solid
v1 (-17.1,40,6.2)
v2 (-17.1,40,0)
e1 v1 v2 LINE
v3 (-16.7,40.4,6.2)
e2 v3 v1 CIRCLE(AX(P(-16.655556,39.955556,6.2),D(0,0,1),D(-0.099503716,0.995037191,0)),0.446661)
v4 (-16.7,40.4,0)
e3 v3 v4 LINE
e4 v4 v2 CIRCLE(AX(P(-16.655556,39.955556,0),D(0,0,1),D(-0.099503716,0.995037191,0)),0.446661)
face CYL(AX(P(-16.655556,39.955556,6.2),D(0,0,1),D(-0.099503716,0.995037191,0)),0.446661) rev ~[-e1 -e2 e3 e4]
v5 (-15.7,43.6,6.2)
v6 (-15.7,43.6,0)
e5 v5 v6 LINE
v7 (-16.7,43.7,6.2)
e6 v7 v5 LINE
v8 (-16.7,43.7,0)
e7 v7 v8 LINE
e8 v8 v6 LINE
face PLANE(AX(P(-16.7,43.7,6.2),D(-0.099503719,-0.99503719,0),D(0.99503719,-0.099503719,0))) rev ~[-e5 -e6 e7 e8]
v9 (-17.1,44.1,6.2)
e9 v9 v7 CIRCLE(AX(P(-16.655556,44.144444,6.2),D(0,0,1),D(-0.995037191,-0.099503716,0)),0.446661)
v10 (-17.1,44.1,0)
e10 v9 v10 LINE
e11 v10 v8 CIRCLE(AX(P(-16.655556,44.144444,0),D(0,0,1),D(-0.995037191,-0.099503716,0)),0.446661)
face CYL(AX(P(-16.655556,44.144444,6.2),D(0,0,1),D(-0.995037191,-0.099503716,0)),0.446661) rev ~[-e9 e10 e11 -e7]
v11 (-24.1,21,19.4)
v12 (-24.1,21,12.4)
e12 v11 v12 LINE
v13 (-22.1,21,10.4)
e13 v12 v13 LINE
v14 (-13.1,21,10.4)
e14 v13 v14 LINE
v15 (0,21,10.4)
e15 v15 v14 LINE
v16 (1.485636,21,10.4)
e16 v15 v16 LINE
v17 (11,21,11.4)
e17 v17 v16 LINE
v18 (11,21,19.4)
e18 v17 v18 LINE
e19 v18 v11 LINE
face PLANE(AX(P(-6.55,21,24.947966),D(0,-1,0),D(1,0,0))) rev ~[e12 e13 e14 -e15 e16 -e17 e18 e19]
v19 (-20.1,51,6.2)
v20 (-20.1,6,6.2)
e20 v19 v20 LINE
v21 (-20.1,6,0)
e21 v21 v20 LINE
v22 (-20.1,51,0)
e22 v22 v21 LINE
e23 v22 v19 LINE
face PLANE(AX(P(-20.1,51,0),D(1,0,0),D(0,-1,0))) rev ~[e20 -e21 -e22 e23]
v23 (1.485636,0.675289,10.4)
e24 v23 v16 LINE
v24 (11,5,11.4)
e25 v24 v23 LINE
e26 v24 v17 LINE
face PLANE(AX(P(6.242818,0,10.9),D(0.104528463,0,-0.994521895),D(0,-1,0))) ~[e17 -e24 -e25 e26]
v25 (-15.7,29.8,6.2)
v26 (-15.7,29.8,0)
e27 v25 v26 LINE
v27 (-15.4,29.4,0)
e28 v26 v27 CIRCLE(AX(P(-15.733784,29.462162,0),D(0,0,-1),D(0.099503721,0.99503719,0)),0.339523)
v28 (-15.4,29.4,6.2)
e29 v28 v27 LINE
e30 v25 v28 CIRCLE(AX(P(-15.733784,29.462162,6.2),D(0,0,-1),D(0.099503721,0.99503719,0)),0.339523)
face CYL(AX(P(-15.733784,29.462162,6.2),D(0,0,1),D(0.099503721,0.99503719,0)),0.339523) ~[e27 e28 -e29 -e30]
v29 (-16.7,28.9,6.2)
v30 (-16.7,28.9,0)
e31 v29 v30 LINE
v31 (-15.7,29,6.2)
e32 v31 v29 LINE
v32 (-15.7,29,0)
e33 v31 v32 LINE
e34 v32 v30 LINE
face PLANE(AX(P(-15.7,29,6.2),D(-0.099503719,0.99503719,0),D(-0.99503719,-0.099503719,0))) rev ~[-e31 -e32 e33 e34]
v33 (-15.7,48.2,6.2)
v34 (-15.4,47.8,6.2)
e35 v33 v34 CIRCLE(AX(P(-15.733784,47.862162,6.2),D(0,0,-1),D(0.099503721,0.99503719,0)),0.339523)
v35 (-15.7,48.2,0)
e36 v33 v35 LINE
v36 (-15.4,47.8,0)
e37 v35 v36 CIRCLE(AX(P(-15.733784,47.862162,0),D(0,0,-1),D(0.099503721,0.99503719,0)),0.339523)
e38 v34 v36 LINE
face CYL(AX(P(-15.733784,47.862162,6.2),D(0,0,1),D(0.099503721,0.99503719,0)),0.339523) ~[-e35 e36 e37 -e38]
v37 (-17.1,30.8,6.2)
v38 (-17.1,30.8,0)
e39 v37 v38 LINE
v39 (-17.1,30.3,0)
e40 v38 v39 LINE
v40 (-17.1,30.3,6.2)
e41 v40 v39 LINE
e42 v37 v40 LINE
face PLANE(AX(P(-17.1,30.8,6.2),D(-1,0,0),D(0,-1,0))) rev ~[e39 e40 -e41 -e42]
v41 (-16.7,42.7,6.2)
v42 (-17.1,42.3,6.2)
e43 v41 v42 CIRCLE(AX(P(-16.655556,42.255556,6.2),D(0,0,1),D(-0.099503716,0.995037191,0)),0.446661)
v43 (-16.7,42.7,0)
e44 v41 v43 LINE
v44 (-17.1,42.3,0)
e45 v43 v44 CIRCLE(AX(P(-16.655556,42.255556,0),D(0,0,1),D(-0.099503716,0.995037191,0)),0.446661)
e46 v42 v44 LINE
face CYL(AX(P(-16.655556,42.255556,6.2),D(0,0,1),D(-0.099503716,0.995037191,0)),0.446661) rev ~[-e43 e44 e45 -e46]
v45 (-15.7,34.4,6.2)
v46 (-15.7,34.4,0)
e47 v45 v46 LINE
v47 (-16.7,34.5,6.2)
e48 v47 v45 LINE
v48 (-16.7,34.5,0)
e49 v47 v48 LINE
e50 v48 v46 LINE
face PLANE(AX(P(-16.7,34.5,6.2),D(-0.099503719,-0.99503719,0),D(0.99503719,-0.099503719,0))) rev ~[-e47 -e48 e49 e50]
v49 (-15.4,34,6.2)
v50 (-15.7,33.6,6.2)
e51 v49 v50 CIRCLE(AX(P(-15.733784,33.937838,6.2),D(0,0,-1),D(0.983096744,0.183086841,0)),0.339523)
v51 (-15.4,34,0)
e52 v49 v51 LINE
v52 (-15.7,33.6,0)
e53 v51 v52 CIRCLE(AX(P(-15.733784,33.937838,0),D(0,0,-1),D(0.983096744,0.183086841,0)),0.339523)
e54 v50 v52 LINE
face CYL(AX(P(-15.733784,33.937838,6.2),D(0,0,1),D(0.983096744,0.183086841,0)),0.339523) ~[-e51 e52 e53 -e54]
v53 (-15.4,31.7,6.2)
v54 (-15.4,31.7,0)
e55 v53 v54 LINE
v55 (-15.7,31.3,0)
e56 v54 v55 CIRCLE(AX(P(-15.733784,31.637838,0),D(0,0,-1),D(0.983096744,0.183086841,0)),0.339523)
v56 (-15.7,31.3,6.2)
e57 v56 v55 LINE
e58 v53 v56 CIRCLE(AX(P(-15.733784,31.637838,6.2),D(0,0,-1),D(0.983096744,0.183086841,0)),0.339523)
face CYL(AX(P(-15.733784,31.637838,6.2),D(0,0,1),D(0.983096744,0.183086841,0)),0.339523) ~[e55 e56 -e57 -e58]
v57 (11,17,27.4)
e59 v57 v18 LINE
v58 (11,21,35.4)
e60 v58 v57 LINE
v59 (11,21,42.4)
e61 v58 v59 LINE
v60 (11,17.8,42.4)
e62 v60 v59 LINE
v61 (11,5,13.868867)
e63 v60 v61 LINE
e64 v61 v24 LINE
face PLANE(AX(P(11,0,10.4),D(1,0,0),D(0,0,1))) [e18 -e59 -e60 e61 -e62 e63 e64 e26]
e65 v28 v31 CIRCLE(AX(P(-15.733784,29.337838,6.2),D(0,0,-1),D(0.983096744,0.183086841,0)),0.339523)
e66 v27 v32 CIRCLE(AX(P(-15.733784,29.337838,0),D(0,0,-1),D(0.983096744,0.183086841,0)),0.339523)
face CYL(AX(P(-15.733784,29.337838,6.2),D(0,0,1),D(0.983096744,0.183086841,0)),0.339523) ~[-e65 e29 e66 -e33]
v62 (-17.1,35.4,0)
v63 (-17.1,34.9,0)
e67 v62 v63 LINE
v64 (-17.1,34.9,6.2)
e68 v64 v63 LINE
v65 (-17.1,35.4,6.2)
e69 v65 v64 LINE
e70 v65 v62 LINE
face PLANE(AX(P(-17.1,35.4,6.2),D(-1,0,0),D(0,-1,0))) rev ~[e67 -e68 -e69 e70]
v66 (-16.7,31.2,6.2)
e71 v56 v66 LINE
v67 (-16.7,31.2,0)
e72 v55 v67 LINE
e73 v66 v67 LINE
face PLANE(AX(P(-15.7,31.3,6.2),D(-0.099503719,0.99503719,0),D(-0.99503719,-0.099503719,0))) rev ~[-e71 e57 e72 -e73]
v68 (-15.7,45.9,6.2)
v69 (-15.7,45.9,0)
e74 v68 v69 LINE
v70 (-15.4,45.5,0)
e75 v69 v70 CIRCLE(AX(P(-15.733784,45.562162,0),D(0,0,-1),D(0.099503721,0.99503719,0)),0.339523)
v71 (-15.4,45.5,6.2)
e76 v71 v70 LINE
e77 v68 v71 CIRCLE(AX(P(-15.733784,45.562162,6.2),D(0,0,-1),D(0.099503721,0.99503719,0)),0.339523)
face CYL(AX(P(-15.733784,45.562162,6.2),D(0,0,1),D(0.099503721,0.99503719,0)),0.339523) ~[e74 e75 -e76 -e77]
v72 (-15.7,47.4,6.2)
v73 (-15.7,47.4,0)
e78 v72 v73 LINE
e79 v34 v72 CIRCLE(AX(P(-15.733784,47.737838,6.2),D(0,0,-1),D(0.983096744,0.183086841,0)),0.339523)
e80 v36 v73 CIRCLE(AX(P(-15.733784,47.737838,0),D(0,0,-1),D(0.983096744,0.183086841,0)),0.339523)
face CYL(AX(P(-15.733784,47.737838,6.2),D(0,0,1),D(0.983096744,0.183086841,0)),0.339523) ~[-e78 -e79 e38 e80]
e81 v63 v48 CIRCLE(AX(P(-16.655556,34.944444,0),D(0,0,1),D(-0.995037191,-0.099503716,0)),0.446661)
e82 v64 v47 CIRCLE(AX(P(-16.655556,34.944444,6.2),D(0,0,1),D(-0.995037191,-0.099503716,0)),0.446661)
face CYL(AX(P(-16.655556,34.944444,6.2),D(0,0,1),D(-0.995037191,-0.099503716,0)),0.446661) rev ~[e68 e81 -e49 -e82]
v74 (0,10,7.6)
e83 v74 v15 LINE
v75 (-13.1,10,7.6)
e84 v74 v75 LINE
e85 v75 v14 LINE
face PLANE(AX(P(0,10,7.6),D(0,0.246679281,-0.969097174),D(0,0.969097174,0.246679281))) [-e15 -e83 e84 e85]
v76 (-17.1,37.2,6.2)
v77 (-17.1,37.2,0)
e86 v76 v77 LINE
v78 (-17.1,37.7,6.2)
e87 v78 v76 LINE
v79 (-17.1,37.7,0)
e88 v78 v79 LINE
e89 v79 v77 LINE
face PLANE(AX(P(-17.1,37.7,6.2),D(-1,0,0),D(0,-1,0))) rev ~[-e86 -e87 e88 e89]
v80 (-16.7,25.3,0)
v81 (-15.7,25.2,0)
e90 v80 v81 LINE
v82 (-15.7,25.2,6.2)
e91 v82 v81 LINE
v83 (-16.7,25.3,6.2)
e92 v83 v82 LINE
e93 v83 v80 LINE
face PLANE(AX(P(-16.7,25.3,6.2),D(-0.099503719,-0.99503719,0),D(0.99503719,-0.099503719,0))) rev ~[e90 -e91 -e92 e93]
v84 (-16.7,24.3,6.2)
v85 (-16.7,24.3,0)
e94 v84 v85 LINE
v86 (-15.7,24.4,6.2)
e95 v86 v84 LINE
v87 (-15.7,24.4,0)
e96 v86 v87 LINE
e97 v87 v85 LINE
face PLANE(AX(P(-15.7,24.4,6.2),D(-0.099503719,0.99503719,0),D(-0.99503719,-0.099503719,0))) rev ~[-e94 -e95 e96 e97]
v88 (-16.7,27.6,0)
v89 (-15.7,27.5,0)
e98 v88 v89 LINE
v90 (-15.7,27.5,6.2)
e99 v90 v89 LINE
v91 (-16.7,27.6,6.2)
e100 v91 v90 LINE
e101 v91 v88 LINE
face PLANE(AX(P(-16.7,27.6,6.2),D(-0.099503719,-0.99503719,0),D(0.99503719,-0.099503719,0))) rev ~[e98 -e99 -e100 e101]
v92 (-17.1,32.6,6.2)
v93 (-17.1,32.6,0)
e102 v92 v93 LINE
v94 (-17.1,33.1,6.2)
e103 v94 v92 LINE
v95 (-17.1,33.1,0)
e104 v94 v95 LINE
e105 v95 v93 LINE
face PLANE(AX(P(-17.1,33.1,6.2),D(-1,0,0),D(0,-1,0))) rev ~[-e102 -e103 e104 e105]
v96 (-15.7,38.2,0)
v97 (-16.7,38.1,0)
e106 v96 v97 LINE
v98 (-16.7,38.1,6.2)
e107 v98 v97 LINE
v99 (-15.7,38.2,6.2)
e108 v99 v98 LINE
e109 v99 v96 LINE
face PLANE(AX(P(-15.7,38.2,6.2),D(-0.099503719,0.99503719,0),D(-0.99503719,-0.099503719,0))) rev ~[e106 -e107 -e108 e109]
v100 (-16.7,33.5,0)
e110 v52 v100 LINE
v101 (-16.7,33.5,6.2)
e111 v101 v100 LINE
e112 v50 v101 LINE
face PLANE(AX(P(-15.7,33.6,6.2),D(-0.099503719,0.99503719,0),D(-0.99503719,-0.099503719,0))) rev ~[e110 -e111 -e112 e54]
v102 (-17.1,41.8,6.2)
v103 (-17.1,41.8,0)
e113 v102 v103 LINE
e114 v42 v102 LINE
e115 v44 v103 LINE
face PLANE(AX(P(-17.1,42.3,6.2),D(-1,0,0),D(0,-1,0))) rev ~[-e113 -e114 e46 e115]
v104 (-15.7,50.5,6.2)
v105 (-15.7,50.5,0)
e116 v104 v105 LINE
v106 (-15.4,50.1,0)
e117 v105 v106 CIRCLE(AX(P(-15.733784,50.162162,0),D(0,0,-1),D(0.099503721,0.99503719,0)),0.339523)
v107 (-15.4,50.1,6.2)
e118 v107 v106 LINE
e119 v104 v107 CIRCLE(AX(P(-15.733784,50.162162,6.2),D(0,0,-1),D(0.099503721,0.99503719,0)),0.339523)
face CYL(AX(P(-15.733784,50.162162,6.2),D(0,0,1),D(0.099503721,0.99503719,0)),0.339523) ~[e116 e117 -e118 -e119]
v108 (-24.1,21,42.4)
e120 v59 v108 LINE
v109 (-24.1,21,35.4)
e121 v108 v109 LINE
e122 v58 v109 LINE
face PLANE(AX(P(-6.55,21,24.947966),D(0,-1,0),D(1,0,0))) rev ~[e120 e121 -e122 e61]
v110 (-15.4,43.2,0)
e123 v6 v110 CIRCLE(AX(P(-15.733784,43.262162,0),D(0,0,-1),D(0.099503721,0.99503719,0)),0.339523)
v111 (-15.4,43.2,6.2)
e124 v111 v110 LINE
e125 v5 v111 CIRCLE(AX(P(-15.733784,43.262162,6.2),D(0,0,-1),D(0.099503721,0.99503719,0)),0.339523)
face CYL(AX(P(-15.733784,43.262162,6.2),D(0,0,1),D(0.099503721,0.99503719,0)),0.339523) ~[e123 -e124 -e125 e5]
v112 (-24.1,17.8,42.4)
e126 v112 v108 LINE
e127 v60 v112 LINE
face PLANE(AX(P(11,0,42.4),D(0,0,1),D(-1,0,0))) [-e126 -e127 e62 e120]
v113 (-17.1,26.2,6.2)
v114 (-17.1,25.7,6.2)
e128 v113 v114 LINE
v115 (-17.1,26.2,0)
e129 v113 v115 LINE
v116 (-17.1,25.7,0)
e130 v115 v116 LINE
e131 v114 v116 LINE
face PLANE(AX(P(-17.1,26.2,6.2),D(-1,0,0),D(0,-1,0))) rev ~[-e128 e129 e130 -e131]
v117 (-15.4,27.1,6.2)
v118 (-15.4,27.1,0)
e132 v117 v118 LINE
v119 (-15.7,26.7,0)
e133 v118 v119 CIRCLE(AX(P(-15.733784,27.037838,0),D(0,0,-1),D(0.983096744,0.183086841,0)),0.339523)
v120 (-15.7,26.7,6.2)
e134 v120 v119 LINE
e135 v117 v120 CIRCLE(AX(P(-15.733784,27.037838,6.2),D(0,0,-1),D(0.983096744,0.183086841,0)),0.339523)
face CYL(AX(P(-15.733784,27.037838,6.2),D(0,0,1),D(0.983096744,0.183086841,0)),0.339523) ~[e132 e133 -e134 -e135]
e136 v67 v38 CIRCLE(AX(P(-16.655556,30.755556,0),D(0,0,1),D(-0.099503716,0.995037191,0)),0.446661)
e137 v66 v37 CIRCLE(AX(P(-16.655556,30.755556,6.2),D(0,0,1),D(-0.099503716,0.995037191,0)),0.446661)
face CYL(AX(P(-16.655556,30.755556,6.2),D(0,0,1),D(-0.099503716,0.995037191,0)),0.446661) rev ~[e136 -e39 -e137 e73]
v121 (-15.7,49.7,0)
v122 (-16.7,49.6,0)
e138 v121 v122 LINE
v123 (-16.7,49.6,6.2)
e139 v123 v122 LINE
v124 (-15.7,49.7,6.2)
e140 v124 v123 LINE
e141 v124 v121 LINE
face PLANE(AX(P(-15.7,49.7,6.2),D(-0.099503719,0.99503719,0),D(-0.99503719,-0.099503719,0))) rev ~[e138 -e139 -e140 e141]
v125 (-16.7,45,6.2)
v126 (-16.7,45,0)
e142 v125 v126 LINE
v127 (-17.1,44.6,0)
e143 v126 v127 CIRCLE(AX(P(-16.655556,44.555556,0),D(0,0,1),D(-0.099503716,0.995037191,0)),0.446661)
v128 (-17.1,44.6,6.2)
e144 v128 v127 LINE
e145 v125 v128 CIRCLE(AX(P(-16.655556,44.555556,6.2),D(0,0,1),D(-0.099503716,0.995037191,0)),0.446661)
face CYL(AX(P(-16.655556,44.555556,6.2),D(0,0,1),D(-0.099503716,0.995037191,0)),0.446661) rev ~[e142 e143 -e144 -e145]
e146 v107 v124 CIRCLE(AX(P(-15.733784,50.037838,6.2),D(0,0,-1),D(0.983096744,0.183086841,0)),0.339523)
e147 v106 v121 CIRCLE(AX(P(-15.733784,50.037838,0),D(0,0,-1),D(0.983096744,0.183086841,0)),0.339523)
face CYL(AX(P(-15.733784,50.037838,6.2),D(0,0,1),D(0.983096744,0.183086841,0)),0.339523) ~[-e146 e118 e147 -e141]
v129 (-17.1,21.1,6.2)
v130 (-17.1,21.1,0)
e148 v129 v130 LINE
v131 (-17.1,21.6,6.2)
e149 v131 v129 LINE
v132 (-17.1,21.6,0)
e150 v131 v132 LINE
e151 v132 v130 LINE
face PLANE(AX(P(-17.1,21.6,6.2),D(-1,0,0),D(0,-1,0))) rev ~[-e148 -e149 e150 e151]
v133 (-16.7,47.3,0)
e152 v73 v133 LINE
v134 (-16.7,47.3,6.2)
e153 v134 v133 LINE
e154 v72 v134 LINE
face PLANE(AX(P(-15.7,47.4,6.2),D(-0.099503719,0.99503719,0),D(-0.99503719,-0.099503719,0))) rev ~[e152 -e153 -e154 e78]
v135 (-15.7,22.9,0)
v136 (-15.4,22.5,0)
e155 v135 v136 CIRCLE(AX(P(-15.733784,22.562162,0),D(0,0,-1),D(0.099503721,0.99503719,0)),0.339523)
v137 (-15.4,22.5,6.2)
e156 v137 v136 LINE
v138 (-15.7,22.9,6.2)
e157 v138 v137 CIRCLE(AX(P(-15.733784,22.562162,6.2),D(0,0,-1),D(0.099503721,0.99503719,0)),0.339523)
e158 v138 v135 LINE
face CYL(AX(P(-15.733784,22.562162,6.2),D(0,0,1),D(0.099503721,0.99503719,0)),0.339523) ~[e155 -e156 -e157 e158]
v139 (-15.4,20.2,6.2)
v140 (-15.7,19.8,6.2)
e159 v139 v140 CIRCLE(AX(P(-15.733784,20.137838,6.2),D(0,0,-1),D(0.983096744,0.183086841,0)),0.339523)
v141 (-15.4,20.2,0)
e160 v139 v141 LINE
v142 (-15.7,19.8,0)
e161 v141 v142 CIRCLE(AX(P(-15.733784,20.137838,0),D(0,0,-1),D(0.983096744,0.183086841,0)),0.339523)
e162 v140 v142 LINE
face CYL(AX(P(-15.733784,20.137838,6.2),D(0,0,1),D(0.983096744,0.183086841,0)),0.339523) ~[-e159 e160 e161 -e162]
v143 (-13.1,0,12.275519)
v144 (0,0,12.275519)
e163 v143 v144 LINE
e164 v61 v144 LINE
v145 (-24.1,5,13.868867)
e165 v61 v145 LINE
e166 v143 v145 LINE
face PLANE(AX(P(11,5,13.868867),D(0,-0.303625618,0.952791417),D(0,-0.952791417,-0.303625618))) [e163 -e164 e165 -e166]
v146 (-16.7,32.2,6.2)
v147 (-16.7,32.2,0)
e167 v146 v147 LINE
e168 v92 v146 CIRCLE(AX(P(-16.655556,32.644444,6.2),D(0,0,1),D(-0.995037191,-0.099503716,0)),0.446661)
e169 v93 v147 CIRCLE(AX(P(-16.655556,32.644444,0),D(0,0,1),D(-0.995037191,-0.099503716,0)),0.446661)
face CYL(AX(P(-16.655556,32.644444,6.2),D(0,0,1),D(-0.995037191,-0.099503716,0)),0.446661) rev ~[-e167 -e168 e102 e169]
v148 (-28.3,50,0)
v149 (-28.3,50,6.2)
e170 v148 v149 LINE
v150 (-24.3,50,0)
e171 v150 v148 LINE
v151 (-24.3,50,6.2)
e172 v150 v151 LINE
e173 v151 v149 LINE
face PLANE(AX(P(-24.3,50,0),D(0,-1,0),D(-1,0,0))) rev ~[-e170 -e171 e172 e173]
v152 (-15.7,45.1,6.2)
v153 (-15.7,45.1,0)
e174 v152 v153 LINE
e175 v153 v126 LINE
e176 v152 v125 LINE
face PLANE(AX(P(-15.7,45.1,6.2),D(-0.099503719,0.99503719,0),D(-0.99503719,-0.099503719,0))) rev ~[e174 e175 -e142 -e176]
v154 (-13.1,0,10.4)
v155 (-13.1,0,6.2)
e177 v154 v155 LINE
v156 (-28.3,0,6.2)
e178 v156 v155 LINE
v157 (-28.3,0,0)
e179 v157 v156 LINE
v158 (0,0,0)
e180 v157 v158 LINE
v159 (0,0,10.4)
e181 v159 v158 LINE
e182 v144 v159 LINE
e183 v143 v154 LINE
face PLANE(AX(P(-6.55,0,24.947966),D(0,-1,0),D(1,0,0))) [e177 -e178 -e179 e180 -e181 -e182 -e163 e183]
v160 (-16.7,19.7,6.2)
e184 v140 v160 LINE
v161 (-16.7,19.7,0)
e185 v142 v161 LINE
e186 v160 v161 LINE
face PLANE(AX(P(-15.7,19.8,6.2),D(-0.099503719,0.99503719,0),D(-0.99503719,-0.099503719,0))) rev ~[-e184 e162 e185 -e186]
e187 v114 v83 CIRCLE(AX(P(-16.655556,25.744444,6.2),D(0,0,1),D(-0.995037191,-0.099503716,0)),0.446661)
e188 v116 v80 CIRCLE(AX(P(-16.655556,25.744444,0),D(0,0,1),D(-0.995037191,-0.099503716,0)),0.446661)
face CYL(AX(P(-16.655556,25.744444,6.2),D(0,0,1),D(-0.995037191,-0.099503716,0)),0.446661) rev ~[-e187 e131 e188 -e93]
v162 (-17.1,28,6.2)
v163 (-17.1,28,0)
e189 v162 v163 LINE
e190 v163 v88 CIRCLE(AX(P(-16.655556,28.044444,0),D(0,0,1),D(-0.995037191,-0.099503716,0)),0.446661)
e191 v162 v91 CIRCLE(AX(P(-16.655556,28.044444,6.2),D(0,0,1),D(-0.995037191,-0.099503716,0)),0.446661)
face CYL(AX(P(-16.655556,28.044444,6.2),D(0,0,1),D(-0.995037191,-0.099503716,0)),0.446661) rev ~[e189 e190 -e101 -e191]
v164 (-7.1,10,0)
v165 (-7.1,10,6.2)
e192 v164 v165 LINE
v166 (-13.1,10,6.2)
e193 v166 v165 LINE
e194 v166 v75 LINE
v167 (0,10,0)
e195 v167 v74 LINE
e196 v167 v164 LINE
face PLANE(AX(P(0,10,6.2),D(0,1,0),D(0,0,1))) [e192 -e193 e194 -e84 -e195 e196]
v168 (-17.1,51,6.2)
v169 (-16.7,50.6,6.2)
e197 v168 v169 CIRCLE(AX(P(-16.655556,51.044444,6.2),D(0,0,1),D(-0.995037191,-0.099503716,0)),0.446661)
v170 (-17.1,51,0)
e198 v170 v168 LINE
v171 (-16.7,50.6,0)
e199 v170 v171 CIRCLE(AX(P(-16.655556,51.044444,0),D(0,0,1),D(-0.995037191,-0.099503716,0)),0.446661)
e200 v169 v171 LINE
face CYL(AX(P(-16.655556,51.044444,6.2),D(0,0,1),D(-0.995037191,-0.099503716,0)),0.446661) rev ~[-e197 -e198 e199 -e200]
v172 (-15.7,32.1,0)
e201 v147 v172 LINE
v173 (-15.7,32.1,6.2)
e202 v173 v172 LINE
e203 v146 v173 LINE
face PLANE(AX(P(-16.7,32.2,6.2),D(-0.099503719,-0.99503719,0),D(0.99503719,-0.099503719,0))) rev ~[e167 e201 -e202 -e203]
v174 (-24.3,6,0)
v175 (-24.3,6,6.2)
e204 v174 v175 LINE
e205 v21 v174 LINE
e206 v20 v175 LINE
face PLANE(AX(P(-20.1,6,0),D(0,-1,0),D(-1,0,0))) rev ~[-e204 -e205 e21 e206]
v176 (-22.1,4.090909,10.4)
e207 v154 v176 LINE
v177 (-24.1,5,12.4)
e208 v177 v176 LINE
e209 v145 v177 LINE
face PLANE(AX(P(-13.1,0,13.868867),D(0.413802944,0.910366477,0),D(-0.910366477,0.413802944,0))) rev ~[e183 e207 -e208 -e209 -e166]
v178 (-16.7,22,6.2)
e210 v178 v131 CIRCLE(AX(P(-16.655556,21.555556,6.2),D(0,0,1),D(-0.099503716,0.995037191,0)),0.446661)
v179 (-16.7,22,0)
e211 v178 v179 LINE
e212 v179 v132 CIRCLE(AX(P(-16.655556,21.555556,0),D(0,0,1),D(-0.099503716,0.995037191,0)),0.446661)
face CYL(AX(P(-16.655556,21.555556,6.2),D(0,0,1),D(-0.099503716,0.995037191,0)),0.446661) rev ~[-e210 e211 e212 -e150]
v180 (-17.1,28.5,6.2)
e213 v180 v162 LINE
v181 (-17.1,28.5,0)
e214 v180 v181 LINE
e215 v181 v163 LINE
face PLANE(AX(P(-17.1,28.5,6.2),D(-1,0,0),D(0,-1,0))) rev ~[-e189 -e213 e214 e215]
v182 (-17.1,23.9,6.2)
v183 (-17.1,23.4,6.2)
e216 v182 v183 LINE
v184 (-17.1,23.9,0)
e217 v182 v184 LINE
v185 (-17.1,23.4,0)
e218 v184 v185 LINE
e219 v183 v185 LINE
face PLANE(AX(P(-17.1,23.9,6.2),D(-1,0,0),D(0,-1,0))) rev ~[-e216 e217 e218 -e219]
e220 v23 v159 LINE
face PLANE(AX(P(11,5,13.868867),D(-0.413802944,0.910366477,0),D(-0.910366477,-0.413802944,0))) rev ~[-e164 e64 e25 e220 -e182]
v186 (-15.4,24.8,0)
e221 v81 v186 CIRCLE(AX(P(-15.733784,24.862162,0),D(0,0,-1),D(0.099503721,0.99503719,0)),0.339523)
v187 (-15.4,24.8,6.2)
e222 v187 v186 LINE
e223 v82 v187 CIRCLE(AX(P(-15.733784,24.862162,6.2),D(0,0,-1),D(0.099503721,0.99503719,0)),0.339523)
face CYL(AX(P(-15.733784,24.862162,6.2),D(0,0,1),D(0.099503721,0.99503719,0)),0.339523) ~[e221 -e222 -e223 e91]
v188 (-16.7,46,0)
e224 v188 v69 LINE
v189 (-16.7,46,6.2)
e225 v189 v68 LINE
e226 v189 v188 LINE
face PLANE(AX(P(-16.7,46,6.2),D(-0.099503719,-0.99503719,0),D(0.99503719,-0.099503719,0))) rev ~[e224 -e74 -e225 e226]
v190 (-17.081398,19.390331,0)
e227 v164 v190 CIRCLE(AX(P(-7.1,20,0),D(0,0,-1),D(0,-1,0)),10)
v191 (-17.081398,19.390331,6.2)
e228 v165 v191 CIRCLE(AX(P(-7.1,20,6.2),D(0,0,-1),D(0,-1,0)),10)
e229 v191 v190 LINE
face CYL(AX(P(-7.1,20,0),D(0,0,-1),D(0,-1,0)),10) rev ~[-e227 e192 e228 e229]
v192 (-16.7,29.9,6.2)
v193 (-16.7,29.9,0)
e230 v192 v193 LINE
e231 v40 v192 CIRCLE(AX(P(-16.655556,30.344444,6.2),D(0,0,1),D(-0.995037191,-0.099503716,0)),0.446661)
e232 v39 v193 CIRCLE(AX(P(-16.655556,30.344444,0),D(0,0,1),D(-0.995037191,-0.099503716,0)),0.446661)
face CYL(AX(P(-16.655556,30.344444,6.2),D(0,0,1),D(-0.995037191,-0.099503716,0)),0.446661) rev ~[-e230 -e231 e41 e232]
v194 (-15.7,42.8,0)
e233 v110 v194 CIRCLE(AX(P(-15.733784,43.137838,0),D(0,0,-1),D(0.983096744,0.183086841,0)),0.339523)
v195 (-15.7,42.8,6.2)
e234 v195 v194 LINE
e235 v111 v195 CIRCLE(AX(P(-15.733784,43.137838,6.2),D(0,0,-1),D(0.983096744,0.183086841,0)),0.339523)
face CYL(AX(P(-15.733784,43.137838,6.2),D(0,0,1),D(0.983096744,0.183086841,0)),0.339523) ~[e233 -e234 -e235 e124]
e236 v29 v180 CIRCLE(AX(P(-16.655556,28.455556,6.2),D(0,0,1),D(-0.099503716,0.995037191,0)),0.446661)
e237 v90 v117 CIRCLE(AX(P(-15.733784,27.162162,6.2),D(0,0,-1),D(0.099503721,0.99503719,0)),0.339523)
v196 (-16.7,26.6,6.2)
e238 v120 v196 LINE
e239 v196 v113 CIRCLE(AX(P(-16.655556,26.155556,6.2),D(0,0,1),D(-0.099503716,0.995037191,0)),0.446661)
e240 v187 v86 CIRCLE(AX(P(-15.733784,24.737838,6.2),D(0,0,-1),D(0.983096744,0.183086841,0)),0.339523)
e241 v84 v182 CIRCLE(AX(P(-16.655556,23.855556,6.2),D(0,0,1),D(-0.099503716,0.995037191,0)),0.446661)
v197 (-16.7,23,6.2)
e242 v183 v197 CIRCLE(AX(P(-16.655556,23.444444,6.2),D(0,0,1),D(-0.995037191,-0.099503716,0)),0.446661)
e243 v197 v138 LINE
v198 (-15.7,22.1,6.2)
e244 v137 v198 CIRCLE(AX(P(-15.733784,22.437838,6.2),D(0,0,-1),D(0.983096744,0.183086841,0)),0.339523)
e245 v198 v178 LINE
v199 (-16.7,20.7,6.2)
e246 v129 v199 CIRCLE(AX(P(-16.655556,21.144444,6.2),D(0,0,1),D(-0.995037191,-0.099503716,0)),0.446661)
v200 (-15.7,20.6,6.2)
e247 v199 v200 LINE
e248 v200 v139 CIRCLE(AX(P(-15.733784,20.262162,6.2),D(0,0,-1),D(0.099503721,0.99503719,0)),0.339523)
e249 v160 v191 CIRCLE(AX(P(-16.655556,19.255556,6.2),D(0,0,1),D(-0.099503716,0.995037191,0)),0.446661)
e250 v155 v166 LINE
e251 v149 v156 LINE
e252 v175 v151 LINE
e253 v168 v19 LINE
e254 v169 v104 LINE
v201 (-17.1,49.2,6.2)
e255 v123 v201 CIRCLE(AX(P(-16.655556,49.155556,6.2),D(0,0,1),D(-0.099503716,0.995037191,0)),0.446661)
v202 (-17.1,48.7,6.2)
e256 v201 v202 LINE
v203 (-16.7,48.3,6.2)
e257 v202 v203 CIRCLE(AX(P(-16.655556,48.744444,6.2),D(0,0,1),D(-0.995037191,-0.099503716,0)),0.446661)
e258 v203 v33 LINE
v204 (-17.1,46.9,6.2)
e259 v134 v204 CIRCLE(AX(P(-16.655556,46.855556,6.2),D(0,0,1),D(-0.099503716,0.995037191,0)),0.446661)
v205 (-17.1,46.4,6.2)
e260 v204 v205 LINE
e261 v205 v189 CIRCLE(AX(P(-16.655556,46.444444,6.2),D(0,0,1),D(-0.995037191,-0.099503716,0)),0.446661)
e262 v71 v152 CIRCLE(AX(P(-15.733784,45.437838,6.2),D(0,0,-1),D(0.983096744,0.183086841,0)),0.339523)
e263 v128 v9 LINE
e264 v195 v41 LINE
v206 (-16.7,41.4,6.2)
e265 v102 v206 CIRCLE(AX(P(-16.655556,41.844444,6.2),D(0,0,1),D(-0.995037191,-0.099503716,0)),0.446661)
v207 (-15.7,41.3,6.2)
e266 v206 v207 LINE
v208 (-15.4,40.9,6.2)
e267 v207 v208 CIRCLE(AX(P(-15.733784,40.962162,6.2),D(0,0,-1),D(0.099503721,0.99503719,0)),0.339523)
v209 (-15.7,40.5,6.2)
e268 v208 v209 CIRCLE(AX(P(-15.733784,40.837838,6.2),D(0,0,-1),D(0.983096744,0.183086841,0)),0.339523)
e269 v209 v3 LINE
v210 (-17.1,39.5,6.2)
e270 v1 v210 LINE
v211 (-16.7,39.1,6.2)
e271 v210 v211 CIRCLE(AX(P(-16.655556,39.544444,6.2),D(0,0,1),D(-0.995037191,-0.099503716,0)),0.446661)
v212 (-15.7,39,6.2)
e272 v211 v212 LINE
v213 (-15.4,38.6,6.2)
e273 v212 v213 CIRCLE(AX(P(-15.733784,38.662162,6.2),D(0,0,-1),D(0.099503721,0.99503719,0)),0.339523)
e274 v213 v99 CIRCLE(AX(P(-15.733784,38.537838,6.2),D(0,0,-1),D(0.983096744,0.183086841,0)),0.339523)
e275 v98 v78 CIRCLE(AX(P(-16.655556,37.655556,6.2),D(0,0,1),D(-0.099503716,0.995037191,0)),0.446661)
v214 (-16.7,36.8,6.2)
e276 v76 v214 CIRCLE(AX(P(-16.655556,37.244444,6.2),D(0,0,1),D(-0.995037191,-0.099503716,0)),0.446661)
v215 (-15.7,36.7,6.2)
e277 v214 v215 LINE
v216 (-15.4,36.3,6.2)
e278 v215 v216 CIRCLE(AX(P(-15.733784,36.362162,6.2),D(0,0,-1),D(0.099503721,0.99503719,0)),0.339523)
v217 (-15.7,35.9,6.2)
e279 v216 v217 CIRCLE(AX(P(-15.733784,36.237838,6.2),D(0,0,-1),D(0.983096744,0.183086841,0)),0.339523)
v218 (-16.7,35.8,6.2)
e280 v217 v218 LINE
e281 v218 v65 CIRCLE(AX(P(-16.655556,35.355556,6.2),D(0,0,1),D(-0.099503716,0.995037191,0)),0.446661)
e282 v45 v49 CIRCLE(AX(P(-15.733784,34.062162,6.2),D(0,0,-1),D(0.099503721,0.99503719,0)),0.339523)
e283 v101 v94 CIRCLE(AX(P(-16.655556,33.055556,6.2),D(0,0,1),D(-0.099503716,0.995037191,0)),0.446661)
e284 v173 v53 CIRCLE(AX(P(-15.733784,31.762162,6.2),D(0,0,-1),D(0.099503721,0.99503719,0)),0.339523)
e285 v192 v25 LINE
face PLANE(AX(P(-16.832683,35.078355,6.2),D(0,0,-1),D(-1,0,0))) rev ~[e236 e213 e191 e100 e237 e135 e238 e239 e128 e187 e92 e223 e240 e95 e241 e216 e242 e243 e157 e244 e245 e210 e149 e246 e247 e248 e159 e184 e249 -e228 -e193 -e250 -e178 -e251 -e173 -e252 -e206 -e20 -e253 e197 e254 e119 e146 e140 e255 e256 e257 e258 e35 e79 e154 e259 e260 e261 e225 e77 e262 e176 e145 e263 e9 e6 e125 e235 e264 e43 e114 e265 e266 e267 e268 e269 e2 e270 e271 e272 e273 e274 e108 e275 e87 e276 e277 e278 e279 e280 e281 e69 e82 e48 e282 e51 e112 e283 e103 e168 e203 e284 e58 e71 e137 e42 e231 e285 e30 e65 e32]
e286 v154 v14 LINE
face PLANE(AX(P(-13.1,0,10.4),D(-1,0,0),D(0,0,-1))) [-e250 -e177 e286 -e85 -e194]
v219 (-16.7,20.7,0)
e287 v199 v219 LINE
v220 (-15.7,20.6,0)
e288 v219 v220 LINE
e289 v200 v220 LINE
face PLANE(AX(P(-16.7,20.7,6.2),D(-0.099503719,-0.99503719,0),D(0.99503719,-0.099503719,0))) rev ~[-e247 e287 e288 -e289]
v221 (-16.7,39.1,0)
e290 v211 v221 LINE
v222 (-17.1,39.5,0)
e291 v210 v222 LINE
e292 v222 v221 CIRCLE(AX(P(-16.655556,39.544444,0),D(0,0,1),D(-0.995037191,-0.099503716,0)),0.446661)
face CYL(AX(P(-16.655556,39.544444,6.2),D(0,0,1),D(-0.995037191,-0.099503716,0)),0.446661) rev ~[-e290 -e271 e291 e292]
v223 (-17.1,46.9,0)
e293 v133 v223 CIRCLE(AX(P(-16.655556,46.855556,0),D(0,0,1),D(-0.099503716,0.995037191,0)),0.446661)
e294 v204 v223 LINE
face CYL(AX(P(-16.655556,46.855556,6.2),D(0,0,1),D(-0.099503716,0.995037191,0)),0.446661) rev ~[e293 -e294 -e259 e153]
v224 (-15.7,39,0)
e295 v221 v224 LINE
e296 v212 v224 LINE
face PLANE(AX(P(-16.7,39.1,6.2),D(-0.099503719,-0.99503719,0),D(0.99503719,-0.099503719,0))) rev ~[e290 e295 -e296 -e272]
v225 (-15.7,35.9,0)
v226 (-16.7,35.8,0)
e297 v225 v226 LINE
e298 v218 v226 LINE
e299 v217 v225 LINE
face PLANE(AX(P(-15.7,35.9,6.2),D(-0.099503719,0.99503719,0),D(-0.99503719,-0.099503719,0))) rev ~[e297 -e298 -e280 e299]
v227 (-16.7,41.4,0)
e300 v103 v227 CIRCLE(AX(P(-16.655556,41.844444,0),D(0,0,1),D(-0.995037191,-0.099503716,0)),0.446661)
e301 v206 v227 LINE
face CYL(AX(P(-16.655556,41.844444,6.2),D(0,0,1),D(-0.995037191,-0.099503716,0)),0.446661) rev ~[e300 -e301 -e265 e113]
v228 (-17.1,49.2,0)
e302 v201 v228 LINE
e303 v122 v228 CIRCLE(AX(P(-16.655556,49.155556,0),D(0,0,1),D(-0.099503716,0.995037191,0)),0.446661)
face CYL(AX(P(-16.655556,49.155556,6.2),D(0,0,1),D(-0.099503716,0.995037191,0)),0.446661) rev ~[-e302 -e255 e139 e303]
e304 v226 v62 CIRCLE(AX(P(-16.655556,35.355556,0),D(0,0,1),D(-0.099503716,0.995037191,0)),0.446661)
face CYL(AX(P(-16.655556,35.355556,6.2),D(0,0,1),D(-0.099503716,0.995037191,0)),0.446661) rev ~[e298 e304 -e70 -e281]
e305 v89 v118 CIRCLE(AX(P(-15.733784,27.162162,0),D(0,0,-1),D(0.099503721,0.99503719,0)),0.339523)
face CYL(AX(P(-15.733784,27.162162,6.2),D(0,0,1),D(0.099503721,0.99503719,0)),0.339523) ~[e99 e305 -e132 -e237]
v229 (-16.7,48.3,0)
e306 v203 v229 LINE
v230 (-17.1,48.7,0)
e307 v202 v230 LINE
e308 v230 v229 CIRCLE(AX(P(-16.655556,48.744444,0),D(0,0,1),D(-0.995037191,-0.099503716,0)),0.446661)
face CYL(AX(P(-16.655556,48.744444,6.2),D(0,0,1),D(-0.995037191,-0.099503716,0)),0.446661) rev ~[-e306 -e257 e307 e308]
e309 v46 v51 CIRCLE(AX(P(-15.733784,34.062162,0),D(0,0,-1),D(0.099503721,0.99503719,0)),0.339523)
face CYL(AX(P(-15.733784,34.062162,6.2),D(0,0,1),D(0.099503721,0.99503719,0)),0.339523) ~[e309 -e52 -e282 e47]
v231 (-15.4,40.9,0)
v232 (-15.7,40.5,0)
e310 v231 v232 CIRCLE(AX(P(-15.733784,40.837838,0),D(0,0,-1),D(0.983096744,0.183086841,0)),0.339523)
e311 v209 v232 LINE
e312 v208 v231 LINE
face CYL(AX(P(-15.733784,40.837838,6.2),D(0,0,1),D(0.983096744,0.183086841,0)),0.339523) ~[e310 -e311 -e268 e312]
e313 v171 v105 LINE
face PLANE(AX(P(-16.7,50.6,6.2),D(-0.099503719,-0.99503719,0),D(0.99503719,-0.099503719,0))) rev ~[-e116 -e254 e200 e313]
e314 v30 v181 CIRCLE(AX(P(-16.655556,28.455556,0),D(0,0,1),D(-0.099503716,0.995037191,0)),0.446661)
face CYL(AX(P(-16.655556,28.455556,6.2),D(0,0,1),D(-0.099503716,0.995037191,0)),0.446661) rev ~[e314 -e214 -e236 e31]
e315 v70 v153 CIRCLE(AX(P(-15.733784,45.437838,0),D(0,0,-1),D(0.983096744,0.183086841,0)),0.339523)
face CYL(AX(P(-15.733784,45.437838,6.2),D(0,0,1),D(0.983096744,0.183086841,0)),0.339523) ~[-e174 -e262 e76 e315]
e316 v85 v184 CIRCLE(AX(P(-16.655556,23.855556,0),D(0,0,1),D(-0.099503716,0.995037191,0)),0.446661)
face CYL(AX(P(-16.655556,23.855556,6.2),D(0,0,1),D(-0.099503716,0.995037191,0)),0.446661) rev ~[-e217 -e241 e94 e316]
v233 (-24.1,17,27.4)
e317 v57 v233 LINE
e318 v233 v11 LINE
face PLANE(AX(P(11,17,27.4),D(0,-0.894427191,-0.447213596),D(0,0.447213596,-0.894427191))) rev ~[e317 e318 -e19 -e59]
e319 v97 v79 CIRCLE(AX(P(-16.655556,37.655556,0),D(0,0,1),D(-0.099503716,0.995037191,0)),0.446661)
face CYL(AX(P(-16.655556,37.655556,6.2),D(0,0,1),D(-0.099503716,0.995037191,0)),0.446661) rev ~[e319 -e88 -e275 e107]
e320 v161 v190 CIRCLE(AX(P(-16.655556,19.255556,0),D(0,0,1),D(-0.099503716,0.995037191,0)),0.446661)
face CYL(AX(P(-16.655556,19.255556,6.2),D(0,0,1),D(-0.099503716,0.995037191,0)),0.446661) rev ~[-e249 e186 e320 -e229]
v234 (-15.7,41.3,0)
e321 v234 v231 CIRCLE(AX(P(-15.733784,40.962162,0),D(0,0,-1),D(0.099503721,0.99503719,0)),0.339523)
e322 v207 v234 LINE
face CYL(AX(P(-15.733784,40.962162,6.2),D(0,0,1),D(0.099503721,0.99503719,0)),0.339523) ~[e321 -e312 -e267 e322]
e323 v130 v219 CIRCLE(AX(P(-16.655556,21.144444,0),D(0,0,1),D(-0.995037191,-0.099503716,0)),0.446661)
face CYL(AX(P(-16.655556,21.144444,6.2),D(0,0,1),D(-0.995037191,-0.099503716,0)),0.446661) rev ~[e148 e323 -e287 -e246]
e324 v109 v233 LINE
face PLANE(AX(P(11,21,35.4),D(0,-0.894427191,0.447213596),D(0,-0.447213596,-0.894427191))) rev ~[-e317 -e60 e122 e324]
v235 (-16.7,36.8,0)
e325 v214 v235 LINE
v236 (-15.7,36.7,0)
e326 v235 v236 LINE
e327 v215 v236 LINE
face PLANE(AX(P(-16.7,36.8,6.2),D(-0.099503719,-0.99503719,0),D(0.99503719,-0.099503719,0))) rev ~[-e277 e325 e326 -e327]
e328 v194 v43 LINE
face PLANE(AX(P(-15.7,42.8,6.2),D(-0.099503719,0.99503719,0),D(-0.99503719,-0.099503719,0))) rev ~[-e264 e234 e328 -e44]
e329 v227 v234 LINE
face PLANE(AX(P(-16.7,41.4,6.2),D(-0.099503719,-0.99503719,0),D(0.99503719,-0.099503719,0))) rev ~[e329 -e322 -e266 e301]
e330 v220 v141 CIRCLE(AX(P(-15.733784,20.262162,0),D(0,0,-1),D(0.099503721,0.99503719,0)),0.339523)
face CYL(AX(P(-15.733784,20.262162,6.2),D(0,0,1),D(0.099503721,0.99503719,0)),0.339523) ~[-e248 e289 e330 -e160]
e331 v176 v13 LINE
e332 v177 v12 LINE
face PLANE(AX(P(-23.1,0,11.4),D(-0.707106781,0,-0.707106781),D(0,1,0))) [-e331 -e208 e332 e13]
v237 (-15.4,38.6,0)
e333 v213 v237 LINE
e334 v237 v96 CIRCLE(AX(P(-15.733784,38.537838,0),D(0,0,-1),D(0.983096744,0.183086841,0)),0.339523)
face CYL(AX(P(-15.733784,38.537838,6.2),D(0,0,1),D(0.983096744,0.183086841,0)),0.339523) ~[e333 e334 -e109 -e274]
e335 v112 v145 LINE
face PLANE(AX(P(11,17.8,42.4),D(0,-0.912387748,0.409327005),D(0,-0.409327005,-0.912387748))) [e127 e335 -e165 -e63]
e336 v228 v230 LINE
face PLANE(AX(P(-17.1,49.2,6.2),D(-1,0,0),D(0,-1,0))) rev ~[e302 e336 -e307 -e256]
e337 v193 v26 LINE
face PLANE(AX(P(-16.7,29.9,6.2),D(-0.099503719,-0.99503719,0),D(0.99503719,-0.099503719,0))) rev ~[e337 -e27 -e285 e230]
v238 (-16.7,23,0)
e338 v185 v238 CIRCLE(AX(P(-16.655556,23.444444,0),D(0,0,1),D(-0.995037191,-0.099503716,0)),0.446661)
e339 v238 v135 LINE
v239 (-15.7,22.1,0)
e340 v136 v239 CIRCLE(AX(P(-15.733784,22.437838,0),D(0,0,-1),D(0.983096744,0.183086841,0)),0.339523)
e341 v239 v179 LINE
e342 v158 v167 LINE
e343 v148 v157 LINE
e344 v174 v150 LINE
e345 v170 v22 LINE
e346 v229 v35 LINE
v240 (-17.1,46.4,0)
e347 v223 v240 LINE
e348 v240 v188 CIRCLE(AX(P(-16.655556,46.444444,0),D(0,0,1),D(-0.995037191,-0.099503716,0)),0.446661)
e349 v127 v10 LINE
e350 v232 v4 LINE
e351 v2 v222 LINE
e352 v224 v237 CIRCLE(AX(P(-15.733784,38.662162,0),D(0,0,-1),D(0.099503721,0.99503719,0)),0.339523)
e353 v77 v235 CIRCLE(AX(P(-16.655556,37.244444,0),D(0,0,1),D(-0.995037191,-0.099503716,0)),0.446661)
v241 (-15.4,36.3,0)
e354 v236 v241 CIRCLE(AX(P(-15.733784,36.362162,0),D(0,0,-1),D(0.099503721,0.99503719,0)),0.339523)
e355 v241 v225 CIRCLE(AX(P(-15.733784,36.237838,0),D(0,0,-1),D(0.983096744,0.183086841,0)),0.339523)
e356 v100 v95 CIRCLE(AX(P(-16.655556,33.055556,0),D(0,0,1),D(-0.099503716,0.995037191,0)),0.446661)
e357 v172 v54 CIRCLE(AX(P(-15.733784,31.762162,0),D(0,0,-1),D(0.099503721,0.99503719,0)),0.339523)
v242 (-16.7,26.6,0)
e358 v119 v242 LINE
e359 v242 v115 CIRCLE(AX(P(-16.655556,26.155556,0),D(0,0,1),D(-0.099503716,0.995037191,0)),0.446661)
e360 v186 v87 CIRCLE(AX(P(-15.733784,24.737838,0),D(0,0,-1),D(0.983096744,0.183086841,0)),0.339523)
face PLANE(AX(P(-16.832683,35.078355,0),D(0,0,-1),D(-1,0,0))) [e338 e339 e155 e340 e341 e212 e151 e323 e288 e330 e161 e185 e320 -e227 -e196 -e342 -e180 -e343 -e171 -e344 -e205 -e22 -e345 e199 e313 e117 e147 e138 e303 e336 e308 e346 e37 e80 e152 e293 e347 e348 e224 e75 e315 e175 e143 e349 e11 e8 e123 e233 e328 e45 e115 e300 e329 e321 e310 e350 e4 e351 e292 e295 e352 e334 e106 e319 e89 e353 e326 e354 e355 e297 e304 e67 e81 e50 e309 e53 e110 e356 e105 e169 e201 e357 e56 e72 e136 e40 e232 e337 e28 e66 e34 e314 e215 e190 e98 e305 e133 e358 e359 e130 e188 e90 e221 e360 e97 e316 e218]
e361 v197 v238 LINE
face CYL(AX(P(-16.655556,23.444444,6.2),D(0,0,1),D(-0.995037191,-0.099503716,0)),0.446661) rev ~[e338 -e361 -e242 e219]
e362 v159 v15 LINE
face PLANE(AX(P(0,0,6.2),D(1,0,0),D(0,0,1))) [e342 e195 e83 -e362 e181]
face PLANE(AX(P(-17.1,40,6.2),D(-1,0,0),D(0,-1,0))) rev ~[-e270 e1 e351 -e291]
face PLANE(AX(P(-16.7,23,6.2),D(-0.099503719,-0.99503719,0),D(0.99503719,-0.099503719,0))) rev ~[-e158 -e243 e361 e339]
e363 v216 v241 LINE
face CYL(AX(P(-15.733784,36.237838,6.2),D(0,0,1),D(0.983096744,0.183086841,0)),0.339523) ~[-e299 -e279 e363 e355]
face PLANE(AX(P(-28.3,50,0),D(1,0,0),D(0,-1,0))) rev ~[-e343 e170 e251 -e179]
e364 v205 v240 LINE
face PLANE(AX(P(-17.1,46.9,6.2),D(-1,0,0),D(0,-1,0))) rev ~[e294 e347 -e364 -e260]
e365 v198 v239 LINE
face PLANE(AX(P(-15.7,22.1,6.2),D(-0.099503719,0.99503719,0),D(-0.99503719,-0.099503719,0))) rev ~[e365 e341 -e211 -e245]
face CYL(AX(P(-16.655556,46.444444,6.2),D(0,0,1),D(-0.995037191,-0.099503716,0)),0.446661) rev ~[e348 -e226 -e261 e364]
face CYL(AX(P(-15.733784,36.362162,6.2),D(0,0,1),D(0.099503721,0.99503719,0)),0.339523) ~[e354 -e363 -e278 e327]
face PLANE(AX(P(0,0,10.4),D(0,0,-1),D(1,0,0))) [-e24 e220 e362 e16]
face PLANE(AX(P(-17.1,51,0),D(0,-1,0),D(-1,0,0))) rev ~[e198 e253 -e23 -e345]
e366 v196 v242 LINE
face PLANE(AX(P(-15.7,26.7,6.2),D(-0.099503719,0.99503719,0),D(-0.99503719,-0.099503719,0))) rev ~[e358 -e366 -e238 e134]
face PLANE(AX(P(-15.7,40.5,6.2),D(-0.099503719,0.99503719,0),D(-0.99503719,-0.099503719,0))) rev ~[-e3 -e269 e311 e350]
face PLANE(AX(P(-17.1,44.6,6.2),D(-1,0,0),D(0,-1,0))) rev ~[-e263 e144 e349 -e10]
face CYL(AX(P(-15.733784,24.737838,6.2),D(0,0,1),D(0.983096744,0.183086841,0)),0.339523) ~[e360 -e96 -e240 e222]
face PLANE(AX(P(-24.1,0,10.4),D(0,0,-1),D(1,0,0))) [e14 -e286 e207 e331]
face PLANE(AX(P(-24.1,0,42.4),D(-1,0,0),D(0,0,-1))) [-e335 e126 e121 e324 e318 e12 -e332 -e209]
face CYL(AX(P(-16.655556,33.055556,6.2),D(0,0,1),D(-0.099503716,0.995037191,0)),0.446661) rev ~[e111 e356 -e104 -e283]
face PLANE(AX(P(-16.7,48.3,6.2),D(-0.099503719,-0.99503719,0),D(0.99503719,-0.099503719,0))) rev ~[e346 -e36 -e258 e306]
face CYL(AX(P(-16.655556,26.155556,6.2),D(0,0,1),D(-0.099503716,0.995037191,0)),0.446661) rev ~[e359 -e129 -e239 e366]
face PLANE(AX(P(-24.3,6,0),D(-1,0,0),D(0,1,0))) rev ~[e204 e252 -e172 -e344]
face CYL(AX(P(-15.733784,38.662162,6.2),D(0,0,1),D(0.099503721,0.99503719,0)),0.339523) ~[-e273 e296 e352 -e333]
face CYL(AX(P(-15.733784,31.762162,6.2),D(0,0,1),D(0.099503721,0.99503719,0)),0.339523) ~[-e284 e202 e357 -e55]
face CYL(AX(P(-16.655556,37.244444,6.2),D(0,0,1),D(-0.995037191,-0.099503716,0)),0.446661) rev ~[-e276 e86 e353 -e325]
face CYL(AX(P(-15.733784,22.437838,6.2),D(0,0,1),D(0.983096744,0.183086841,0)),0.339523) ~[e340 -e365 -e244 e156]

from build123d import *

# Parameters (mm, degrees)
BOSS_EXTRUDE1_DEPTH = 6.2
BOSS_EXTRUDE2_DEPTH = 21
CHAMFER1_SIZE       = 5
CHAMFER1_SIZE2      = 28.356409098
CUT_EXTRUDE1_REACH  = 74.109
CHAMFER2_SIZE       = 1
CHAMFER2_SIZE2      = 9.514364454
CHAMFER3_SIZE       = 2
CUT_EXTRUDE2_REACH  = 79.092
CUT_EXTRUDE3_START  = -3.468867
CUT_EXTRUDE3_DEPTH  = 3.468867
BOSS_EXTRUDE3_DEPTH = 6.2
CUT_EXTRUDE4_REACH  = 79.092


with BuildPart() as part:
    # Sketch1 → Boss-Extrude1 (new body)
    with BuildSketch(Plane.XY):
        with BuildLine():
            Line((-28.3, 0), (0, 0))
            Line((0, 0), (0, 10))
            Line((0, 10), (-7.1, 10))
            ThreePointArc((-7.1, 10), (-14.171067812, 12.928932188), (-17.1, 20))
            Line((-17.1, 20), (-17.1, 51))
            Line((-17.1, 51), (-20.1, 51))
            Line((-20.1, 51), (-20.1, 6))
            Line((-20.1, 6), (-24.3, 6))
            Line((-24.3, 6), (-24.3, 50))
            Line((-24.3, 50), (-28.3, 50))
            Line((-28.3, 50), (-28.3, 0))
        make_face()
    extrude(amount=BOSS_EXTRUDE1_DEPTH)

    # Sketch2 → Boss-Extrude2 (add)
    with BuildSketch(Plane.XZ):
        Polygon((0, 6.2), (0, 10.4), (11, 10.4), (11, 42.4), (-24.1, 42.4), (-24.1, 10.4), (-13.1, 10.4), (-13.1, 6.2), align=None)
    extrude(amount=-BOSS_EXTRUDE2_DEPTH)

    # Chamfer1
    chamfer1_edges = [part.edges().sort_by_distance(p)[0] for p in [
        (-6.55, 0, 42.4),
    ]]
    chamfer1_side = [part.faces().sort_by_distance(p)[0] for p in [
        (-6.55, 10.5, 42.4),
    ]]
    chamfer(chamfer1_edges, length=CHAMFER1_SIZE, length2=CHAMFER1_SIZE2, reference=chamfer1_side[0])

    # Sketch3 → Cut-Extrude1 (cut, up to next)
    with BuildSketch(Plane(origin=(0, 0, 0), x_dir=(0, 0, -1), z_dir=(1, 0, 0)), mode=Mode.PRIVATE) as cut_extrude1_sk1:
        Polygon((-6.2, 10), (-7.6, 10), (-10.4, 21), (-6.2, 21), align=None)
    cut_extrude1_tool1 = extrude(cut_extrude1_sk1.sketch, amount=-CUT_EXTRUDE1_REACH, mode=Mode.PRIVATE) & part.part
    add(cut_extrude1_tool1.solids().sort_by_distance((0, 16.416667, 7.716667))[0], mode=Mode.SUBTRACT)

    # Chamfer2
    chamfer2_edges = [part.edges().sort_by_distance(p)[0] for p in [
        (11, 10.5, 10.4),
    ]]
    chamfer2_side = [part.faces().sort_by_distance(p)[0] for p in [
        (11, 11.541747932, 25.62778603),
    ]]
    chamfer(chamfer2_edges, length=CHAMFER2_SIZE, length2=CHAMFER2_SIZE2, reference=chamfer2_side[0])

    # Chamfer3
    chamfer3_edges = [part.edges().sort_by_distance(p)[0] for p in [
        (-24.1, 10.5, 10.4),
    ]]
    chamfer(chamfer3_edges, length=CHAMFER3_SIZE)

    # Sketch5 → Cut-Extrude2 (cut, up to next)
    with BuildSketch(Plane(origin=(11, 0, 0), x_dir=(0, 0, -1), z_dir=(1, 0, 0)), mode=Mode.PRIVATE) as cut_extrude2_sk1:
        Polygon((-42.4, 17.8), (-13.86886709, 5), (-10.966215349, -4.108657177), (-44.036924755, 0.937700744), align=None)
    cut_extrude2_tool1 = extrude(cut_extrude2_sk1.sketch, amount=-CUT_EXTRUDE2_REACH, mode=Mode.PRIVATE) & part.part
    add(cut_extrude2_tool1.solids().sort_by_distance((11, 5.258773, 29.627692))[0], mode=Mode.SUBTRACT)

    # Sketch6 → Cut-Extrude3 (cut)
    with BuildSketch(Plane(origin=(0, 0, 10.4), x_dir=(-1, 0, 0), z_dir=(0, 0, -1)).offset(CUT_EXTRUDE3_START)):
        Polygon((13.1, 0), (24.1, 5), (37.198342989, 5), (28.62602328, -4.522208447), (-13.825974113, -5.629287686), (-20.705007466, 5), (-11, 5), (0, 0), align=None)
    extrude(amount=CUT_EXTRUDE3_DEPTH, mode=Mode.SUBTRACT)

    # Sketch7 → Boss-Extrude3 (add)
    with BuildSketch(Plane.XY.offset(6.2)):
        with BuildLine():
            Line((-16.7, 50.6), (-15.7, 50.5))
            ThreePointArc((-15.7, 50.5), (-15.462165524, 50.365875857), (-15.4, 50.1))
            ThreePointArc((-15.4, 50.1), (-15.462165524, 49.834124143), (-15.7, 49.7))
            Line((-15.7, 49.7), (-16.7, 49.6))
            ThreePointArc((-16.7, 49.6), (-16.971392676, 49.471392676), (-17.1, 49.2))
            Line((-17.1, 49.2), (-17.1, 48.7))
            ThreePointArc((-17.1, 48.7), (-16.971392676, 48.428607324), (-16.7, 48.3))
            Line((-16.7, 48.3), (-15.7, 48.2))
            ThreePointArc((-15.7, 48.2), (-15.462165524, 48.065875857), (-15.4, 47.8))
            ThreePointArc((-15.4, 47.8), (-15.462165524, 47.534124143), (-15.7, 47.4))
            Line((-15.7, 47.4), (-16.7, 47.3))
            ThreePointArc((-16.7, 47.3), (-16.971392676, 47.171392676), (-17.1, 46.9))
            Line((-17.1, 46.9), (-17.1, 46.4))
            ThreePointArc((-17.1, 46.4), (-16.971392676, 46.128607324), (-16.7, 46))
            Line((-16.7, 46), (-15.7, 45.9))
            ThreePointArc((-15.7, 45.9), (-15.462165524, 45.765875857), (-15.4, 45.5))
            ThreePointArc((-15.4, 45.5), (-15.462165524, 45.234124143), (-15.7, 45.1))
            Line((-15.7, 45.1), (-16.7, 45))
            ThreePointArc((-16.7, 45), (-16.971392676, 44.871392676), (-17.1, 44.6))
            Line((-17.1, 44.6), (-17.1, 44.1))
            ThreePointArc((-17.1, 44.1), (-16.971392676, 43.828607324), (-16.7, 43.7))
            Line((-16.7, 43.7), (-15.7, 43.6))
            ThreePointArc((-15.7, 43.6), (-15.462165524, 43.465875857), (-15.4, 43.2))
            ThreePointArc((-15.4, 43.2), (-15.462165524, 42.934124143), (-15.7, 42.8))
            Line((-15.7, 42.8), (-16.7, 42.7))
            ThreePointArc((-16.7, 42.7), (-16.971392676, 42.571392676), (-17.1, 42.3))
            Line((-17.1, 42.3), (-17.1, 41.8))
            ThreePointArc((-17.1, 41.8), (-16.971392676, 41.528607324), (-16.7, 41.4))
            Line((-16.7, 41.4), (-15.7, 41.3))
            ThreePointArc((-15.7, 41.3), (-15.462165524, 41.165875857), (-15.4, 40.9))
            ThreePointArc((-15.4, 40.9), (-15.462165524, 40.634124143), (-15.7, 40.5))
            Line((-15.7, 40.5), (-16.7, 40.4))
            ThreePointArc((-16.7, 40.4), (-16.971392676, 40.271392676), (-17.1, 40))
            Line((-17.1, 40), (-17.1, 39.5))
            ThreePointArc((-17.1, 39.5), (-16.971392676, 39.228607324), (-16.7, 39.1))
            Line((-16.7, 39.1), (-15.7, 39))
            ThreePointArc((-15.7, 39), (-15.462165524, 38.865875857), (-15.4, 38.6))
            ThreePointArc((-15.4, 38.6), (-15.462165524, 38.334124143), (-15.7, 38.2))
            Line((-15.7, 38.2), (-16.7, 38.1))
            ThreePointArc((-16.7, 38.1), (-16.971392676, 37.971392676), (-17.1, 37.7))
            Line((-17.1, 37.7), (-17.1, 37.2))
            ThreePointArc((-17.1, 37.2), (-16.971392676, 36.928607324), (-16.7, 36.8))
            Line((-16.7, 36.8), (-15.7, 36.7))
            ThreePointArc((-15.7, 36.7), (-15.462165524, 36.565875857), (-15.4, 36.3))
            ThreePointArc((-15.4, 36.3), (-15.462165524, 36.034124143), (-15.7, 35.9))
            Line((-15.7, 35.9), (-16.7, 35.8))
            ThreePointArc((-16.7, 35.8), (-16.971392676, 35.671392676), (-17.1, 35.4))
            Line((-17.1, 35.4), (-17.1, 34.9))
            ThreePointArc((-17.1, 34.9), (-16.971392676, 34.628607324), (-16.7, 34.5))
            Line((-16.7, 34.5), (-15.7, 34.4))
            ThreePointArc((-15.7, 34.4), (-15.462165524, 34.265875857), (-15.4, 34))
            ThreePointArc((-15.4, 34), (-15.462165524, 33.734124143), (-15.7, 33.6))
            Line((-15.7, 33.6), (-16.7, 33.5))
            ThreePointArc((-16.7, 33.5), (-16.971392676, 33.371392676), (-17.1, 33.1))
            Line((-17.1, 33.1), (-17.1, 32.6))
            ThreePointArc((-17.1, 32.6), (-16.971392676, 32.328607324), (-16.7, 32.2))
            Line((-16.7, 32.2), (-15.7, 32.1))
            ThreePointArc((-15.7, 32.1), (-15.462165524, 31.965875857), (-15.4, 31.7))
            ThreePointArc((-15.4, 31.7), (-15.462165524, 31.434124143), (-15.7, 31.3))
            Line((-15.7, 31.3), (-16.7, 31.2))
            ThreePointArc((-16.7, 31.2), (-16.971392676, 31.071392676), (-17.1, 30.8))
            Line((-17.1, 30.8), (-17.1, 30.3))
            ThreePointArc((-17.1, 30.3), (-16.971392676, 30.028607324), (-16.7, 29.9))
            Line((-16.7, 29.9), (-15.7, 29.8))
            ThreePointArc((-15.7, 29.8), (-15.462165524, 29.665875857), (-15.4, 29.4))
            ThreePointArc((-15.4, 29.4), (-15.462165524, 29.134124143), (-15.7, 29))
            Line((-15.7, 29), (-16.7, 28.9))
            ThreePointArc((-16.7, 28.9), (-16.971392676, 28.771392676), (-17.1, 28.5))
            Line((-17.1, 28.5), (-17.1, 28))
            ThreePointArc((-17.1, 28), (-16.971392676, 27.728607324), (-16.7, 27.6))
            Line((-16.7, 27.6), (-15.7, 27.5))
            ThreePointArc((-15.7, 27.5), (-15.462165524, 27.365875857), (-15.4, 27.1))
            ThreePointArc((-15.4, 27.1), (-15.462165524, 26.834124143), (-15.7, 26.7))
            Line((-15.7, 26.7), (-16.7, 26.6))
            ThreePointArc((-16.7, 26.6), (-16.971392676, 26.471392676), (-17.1, 26.2))
            Line((-17.1, 26.2), (-17.1, 25.7))
            ThreePointArc((-17.1, 25.7), (-16.971392676, 25.428607324), (-16.7, 25.3))
            Line((-16.7, 25.3), (-15.7, 25.2))
            ThreePointArc((-15.7, 25.2), (-15.462165524, 25.065875857), (-15.4, 24.8))
            ThreePointArc((-15.4, 24.8), (-15.462165524, 24.534124143), (-15.7, 24.4))
            Line((-15.7, 24.4), (-16.7, 24.3))
            ThreePointArc((-16.7, 24.3), (-16.971392676, 24.171392676), (-17.1, 23.9))
            Line((-17.1, 23.9), (-17.1, 23.4))
            ThreePointArc((-17.1, 23.4), (-16.971392676, 23.128607324), (-16.7, 23))
            Line((-16.7, 23), (-15.7, 22.9))
            ThreePointArc((-15.7, 22.9), (-15.462165524, 22.765875857), (-15.4, 22.5))
            ThreePointArc((-15.4, 22.5), (-15.462165524, 22.234124143), (-15.7, 22.1))
            Line((-15.7, 22.1), (-16.7, 22))
            ThreePointArc((-16.7, 22), (-16.971392676, 21.871392676), (-17.1, 21.6))
            Line((-17.1, 21.6), (-17.1, 21.1))
            ThreePointArc((-17.1, 21.1), (-16.971392676, 20.828607324), (-16.7, 20.7))
            Line((-16.7, 20.7), (-15.7, 20.6))
            ThreePointArc((-15.7, 20.6), (-15.462165524, 20.465875857), (-15.4, 20.2))
            ThreePointArc((-15.4, 20.2), (-15.462165524, 19.934124143), (-15.7, 19.8))
            Line((-15.7, 19.8), (-16.7, 19.7))
            ThreePointArc((-16.7, 19.7), (-16.971392676, 19.571392676), (-17.1, 19.3))
            Line((-17.1, 19.3), (-17.1, 18.8))
            Line((-17.1, 18.8), (-18.685, 49.2))
            Line((-18.685, 49.2), (-17.1, 51))
            ThreePointArc((-17.1, 51), (-16.971392676, 50.728607324), (-16.7, 50.6))
        make_face()
    extrude(amount=-BOSS_EXTRUDE3_DEPTH)

    # Sketch8 → Cut-Extrude4 (cut, up to next)
    with BuildSketch(Plane(origin=(11, 0, 0), x_dir=(0, 0, -1), z_dir=(1, 0, 0)), mode=Mode.PRIVATE) as cut_extrude4_sk1:
        Polygon((-35.4, 21), (-27.4, 17), (-19.4, 21), align=None)
    cut_extrude4_tool1 = extrude(cut_extrude4_sk1.sketch, amount=-CUT_EXTRUDE4_REACH, mode=Mode.PRIVATE) & part.part
    add(cut_extrude4_tool1.solids().sort_by_distance((11, 19.666667, 27.4))[0], mode=Mode.SUBTRACT)


solid = part.part
